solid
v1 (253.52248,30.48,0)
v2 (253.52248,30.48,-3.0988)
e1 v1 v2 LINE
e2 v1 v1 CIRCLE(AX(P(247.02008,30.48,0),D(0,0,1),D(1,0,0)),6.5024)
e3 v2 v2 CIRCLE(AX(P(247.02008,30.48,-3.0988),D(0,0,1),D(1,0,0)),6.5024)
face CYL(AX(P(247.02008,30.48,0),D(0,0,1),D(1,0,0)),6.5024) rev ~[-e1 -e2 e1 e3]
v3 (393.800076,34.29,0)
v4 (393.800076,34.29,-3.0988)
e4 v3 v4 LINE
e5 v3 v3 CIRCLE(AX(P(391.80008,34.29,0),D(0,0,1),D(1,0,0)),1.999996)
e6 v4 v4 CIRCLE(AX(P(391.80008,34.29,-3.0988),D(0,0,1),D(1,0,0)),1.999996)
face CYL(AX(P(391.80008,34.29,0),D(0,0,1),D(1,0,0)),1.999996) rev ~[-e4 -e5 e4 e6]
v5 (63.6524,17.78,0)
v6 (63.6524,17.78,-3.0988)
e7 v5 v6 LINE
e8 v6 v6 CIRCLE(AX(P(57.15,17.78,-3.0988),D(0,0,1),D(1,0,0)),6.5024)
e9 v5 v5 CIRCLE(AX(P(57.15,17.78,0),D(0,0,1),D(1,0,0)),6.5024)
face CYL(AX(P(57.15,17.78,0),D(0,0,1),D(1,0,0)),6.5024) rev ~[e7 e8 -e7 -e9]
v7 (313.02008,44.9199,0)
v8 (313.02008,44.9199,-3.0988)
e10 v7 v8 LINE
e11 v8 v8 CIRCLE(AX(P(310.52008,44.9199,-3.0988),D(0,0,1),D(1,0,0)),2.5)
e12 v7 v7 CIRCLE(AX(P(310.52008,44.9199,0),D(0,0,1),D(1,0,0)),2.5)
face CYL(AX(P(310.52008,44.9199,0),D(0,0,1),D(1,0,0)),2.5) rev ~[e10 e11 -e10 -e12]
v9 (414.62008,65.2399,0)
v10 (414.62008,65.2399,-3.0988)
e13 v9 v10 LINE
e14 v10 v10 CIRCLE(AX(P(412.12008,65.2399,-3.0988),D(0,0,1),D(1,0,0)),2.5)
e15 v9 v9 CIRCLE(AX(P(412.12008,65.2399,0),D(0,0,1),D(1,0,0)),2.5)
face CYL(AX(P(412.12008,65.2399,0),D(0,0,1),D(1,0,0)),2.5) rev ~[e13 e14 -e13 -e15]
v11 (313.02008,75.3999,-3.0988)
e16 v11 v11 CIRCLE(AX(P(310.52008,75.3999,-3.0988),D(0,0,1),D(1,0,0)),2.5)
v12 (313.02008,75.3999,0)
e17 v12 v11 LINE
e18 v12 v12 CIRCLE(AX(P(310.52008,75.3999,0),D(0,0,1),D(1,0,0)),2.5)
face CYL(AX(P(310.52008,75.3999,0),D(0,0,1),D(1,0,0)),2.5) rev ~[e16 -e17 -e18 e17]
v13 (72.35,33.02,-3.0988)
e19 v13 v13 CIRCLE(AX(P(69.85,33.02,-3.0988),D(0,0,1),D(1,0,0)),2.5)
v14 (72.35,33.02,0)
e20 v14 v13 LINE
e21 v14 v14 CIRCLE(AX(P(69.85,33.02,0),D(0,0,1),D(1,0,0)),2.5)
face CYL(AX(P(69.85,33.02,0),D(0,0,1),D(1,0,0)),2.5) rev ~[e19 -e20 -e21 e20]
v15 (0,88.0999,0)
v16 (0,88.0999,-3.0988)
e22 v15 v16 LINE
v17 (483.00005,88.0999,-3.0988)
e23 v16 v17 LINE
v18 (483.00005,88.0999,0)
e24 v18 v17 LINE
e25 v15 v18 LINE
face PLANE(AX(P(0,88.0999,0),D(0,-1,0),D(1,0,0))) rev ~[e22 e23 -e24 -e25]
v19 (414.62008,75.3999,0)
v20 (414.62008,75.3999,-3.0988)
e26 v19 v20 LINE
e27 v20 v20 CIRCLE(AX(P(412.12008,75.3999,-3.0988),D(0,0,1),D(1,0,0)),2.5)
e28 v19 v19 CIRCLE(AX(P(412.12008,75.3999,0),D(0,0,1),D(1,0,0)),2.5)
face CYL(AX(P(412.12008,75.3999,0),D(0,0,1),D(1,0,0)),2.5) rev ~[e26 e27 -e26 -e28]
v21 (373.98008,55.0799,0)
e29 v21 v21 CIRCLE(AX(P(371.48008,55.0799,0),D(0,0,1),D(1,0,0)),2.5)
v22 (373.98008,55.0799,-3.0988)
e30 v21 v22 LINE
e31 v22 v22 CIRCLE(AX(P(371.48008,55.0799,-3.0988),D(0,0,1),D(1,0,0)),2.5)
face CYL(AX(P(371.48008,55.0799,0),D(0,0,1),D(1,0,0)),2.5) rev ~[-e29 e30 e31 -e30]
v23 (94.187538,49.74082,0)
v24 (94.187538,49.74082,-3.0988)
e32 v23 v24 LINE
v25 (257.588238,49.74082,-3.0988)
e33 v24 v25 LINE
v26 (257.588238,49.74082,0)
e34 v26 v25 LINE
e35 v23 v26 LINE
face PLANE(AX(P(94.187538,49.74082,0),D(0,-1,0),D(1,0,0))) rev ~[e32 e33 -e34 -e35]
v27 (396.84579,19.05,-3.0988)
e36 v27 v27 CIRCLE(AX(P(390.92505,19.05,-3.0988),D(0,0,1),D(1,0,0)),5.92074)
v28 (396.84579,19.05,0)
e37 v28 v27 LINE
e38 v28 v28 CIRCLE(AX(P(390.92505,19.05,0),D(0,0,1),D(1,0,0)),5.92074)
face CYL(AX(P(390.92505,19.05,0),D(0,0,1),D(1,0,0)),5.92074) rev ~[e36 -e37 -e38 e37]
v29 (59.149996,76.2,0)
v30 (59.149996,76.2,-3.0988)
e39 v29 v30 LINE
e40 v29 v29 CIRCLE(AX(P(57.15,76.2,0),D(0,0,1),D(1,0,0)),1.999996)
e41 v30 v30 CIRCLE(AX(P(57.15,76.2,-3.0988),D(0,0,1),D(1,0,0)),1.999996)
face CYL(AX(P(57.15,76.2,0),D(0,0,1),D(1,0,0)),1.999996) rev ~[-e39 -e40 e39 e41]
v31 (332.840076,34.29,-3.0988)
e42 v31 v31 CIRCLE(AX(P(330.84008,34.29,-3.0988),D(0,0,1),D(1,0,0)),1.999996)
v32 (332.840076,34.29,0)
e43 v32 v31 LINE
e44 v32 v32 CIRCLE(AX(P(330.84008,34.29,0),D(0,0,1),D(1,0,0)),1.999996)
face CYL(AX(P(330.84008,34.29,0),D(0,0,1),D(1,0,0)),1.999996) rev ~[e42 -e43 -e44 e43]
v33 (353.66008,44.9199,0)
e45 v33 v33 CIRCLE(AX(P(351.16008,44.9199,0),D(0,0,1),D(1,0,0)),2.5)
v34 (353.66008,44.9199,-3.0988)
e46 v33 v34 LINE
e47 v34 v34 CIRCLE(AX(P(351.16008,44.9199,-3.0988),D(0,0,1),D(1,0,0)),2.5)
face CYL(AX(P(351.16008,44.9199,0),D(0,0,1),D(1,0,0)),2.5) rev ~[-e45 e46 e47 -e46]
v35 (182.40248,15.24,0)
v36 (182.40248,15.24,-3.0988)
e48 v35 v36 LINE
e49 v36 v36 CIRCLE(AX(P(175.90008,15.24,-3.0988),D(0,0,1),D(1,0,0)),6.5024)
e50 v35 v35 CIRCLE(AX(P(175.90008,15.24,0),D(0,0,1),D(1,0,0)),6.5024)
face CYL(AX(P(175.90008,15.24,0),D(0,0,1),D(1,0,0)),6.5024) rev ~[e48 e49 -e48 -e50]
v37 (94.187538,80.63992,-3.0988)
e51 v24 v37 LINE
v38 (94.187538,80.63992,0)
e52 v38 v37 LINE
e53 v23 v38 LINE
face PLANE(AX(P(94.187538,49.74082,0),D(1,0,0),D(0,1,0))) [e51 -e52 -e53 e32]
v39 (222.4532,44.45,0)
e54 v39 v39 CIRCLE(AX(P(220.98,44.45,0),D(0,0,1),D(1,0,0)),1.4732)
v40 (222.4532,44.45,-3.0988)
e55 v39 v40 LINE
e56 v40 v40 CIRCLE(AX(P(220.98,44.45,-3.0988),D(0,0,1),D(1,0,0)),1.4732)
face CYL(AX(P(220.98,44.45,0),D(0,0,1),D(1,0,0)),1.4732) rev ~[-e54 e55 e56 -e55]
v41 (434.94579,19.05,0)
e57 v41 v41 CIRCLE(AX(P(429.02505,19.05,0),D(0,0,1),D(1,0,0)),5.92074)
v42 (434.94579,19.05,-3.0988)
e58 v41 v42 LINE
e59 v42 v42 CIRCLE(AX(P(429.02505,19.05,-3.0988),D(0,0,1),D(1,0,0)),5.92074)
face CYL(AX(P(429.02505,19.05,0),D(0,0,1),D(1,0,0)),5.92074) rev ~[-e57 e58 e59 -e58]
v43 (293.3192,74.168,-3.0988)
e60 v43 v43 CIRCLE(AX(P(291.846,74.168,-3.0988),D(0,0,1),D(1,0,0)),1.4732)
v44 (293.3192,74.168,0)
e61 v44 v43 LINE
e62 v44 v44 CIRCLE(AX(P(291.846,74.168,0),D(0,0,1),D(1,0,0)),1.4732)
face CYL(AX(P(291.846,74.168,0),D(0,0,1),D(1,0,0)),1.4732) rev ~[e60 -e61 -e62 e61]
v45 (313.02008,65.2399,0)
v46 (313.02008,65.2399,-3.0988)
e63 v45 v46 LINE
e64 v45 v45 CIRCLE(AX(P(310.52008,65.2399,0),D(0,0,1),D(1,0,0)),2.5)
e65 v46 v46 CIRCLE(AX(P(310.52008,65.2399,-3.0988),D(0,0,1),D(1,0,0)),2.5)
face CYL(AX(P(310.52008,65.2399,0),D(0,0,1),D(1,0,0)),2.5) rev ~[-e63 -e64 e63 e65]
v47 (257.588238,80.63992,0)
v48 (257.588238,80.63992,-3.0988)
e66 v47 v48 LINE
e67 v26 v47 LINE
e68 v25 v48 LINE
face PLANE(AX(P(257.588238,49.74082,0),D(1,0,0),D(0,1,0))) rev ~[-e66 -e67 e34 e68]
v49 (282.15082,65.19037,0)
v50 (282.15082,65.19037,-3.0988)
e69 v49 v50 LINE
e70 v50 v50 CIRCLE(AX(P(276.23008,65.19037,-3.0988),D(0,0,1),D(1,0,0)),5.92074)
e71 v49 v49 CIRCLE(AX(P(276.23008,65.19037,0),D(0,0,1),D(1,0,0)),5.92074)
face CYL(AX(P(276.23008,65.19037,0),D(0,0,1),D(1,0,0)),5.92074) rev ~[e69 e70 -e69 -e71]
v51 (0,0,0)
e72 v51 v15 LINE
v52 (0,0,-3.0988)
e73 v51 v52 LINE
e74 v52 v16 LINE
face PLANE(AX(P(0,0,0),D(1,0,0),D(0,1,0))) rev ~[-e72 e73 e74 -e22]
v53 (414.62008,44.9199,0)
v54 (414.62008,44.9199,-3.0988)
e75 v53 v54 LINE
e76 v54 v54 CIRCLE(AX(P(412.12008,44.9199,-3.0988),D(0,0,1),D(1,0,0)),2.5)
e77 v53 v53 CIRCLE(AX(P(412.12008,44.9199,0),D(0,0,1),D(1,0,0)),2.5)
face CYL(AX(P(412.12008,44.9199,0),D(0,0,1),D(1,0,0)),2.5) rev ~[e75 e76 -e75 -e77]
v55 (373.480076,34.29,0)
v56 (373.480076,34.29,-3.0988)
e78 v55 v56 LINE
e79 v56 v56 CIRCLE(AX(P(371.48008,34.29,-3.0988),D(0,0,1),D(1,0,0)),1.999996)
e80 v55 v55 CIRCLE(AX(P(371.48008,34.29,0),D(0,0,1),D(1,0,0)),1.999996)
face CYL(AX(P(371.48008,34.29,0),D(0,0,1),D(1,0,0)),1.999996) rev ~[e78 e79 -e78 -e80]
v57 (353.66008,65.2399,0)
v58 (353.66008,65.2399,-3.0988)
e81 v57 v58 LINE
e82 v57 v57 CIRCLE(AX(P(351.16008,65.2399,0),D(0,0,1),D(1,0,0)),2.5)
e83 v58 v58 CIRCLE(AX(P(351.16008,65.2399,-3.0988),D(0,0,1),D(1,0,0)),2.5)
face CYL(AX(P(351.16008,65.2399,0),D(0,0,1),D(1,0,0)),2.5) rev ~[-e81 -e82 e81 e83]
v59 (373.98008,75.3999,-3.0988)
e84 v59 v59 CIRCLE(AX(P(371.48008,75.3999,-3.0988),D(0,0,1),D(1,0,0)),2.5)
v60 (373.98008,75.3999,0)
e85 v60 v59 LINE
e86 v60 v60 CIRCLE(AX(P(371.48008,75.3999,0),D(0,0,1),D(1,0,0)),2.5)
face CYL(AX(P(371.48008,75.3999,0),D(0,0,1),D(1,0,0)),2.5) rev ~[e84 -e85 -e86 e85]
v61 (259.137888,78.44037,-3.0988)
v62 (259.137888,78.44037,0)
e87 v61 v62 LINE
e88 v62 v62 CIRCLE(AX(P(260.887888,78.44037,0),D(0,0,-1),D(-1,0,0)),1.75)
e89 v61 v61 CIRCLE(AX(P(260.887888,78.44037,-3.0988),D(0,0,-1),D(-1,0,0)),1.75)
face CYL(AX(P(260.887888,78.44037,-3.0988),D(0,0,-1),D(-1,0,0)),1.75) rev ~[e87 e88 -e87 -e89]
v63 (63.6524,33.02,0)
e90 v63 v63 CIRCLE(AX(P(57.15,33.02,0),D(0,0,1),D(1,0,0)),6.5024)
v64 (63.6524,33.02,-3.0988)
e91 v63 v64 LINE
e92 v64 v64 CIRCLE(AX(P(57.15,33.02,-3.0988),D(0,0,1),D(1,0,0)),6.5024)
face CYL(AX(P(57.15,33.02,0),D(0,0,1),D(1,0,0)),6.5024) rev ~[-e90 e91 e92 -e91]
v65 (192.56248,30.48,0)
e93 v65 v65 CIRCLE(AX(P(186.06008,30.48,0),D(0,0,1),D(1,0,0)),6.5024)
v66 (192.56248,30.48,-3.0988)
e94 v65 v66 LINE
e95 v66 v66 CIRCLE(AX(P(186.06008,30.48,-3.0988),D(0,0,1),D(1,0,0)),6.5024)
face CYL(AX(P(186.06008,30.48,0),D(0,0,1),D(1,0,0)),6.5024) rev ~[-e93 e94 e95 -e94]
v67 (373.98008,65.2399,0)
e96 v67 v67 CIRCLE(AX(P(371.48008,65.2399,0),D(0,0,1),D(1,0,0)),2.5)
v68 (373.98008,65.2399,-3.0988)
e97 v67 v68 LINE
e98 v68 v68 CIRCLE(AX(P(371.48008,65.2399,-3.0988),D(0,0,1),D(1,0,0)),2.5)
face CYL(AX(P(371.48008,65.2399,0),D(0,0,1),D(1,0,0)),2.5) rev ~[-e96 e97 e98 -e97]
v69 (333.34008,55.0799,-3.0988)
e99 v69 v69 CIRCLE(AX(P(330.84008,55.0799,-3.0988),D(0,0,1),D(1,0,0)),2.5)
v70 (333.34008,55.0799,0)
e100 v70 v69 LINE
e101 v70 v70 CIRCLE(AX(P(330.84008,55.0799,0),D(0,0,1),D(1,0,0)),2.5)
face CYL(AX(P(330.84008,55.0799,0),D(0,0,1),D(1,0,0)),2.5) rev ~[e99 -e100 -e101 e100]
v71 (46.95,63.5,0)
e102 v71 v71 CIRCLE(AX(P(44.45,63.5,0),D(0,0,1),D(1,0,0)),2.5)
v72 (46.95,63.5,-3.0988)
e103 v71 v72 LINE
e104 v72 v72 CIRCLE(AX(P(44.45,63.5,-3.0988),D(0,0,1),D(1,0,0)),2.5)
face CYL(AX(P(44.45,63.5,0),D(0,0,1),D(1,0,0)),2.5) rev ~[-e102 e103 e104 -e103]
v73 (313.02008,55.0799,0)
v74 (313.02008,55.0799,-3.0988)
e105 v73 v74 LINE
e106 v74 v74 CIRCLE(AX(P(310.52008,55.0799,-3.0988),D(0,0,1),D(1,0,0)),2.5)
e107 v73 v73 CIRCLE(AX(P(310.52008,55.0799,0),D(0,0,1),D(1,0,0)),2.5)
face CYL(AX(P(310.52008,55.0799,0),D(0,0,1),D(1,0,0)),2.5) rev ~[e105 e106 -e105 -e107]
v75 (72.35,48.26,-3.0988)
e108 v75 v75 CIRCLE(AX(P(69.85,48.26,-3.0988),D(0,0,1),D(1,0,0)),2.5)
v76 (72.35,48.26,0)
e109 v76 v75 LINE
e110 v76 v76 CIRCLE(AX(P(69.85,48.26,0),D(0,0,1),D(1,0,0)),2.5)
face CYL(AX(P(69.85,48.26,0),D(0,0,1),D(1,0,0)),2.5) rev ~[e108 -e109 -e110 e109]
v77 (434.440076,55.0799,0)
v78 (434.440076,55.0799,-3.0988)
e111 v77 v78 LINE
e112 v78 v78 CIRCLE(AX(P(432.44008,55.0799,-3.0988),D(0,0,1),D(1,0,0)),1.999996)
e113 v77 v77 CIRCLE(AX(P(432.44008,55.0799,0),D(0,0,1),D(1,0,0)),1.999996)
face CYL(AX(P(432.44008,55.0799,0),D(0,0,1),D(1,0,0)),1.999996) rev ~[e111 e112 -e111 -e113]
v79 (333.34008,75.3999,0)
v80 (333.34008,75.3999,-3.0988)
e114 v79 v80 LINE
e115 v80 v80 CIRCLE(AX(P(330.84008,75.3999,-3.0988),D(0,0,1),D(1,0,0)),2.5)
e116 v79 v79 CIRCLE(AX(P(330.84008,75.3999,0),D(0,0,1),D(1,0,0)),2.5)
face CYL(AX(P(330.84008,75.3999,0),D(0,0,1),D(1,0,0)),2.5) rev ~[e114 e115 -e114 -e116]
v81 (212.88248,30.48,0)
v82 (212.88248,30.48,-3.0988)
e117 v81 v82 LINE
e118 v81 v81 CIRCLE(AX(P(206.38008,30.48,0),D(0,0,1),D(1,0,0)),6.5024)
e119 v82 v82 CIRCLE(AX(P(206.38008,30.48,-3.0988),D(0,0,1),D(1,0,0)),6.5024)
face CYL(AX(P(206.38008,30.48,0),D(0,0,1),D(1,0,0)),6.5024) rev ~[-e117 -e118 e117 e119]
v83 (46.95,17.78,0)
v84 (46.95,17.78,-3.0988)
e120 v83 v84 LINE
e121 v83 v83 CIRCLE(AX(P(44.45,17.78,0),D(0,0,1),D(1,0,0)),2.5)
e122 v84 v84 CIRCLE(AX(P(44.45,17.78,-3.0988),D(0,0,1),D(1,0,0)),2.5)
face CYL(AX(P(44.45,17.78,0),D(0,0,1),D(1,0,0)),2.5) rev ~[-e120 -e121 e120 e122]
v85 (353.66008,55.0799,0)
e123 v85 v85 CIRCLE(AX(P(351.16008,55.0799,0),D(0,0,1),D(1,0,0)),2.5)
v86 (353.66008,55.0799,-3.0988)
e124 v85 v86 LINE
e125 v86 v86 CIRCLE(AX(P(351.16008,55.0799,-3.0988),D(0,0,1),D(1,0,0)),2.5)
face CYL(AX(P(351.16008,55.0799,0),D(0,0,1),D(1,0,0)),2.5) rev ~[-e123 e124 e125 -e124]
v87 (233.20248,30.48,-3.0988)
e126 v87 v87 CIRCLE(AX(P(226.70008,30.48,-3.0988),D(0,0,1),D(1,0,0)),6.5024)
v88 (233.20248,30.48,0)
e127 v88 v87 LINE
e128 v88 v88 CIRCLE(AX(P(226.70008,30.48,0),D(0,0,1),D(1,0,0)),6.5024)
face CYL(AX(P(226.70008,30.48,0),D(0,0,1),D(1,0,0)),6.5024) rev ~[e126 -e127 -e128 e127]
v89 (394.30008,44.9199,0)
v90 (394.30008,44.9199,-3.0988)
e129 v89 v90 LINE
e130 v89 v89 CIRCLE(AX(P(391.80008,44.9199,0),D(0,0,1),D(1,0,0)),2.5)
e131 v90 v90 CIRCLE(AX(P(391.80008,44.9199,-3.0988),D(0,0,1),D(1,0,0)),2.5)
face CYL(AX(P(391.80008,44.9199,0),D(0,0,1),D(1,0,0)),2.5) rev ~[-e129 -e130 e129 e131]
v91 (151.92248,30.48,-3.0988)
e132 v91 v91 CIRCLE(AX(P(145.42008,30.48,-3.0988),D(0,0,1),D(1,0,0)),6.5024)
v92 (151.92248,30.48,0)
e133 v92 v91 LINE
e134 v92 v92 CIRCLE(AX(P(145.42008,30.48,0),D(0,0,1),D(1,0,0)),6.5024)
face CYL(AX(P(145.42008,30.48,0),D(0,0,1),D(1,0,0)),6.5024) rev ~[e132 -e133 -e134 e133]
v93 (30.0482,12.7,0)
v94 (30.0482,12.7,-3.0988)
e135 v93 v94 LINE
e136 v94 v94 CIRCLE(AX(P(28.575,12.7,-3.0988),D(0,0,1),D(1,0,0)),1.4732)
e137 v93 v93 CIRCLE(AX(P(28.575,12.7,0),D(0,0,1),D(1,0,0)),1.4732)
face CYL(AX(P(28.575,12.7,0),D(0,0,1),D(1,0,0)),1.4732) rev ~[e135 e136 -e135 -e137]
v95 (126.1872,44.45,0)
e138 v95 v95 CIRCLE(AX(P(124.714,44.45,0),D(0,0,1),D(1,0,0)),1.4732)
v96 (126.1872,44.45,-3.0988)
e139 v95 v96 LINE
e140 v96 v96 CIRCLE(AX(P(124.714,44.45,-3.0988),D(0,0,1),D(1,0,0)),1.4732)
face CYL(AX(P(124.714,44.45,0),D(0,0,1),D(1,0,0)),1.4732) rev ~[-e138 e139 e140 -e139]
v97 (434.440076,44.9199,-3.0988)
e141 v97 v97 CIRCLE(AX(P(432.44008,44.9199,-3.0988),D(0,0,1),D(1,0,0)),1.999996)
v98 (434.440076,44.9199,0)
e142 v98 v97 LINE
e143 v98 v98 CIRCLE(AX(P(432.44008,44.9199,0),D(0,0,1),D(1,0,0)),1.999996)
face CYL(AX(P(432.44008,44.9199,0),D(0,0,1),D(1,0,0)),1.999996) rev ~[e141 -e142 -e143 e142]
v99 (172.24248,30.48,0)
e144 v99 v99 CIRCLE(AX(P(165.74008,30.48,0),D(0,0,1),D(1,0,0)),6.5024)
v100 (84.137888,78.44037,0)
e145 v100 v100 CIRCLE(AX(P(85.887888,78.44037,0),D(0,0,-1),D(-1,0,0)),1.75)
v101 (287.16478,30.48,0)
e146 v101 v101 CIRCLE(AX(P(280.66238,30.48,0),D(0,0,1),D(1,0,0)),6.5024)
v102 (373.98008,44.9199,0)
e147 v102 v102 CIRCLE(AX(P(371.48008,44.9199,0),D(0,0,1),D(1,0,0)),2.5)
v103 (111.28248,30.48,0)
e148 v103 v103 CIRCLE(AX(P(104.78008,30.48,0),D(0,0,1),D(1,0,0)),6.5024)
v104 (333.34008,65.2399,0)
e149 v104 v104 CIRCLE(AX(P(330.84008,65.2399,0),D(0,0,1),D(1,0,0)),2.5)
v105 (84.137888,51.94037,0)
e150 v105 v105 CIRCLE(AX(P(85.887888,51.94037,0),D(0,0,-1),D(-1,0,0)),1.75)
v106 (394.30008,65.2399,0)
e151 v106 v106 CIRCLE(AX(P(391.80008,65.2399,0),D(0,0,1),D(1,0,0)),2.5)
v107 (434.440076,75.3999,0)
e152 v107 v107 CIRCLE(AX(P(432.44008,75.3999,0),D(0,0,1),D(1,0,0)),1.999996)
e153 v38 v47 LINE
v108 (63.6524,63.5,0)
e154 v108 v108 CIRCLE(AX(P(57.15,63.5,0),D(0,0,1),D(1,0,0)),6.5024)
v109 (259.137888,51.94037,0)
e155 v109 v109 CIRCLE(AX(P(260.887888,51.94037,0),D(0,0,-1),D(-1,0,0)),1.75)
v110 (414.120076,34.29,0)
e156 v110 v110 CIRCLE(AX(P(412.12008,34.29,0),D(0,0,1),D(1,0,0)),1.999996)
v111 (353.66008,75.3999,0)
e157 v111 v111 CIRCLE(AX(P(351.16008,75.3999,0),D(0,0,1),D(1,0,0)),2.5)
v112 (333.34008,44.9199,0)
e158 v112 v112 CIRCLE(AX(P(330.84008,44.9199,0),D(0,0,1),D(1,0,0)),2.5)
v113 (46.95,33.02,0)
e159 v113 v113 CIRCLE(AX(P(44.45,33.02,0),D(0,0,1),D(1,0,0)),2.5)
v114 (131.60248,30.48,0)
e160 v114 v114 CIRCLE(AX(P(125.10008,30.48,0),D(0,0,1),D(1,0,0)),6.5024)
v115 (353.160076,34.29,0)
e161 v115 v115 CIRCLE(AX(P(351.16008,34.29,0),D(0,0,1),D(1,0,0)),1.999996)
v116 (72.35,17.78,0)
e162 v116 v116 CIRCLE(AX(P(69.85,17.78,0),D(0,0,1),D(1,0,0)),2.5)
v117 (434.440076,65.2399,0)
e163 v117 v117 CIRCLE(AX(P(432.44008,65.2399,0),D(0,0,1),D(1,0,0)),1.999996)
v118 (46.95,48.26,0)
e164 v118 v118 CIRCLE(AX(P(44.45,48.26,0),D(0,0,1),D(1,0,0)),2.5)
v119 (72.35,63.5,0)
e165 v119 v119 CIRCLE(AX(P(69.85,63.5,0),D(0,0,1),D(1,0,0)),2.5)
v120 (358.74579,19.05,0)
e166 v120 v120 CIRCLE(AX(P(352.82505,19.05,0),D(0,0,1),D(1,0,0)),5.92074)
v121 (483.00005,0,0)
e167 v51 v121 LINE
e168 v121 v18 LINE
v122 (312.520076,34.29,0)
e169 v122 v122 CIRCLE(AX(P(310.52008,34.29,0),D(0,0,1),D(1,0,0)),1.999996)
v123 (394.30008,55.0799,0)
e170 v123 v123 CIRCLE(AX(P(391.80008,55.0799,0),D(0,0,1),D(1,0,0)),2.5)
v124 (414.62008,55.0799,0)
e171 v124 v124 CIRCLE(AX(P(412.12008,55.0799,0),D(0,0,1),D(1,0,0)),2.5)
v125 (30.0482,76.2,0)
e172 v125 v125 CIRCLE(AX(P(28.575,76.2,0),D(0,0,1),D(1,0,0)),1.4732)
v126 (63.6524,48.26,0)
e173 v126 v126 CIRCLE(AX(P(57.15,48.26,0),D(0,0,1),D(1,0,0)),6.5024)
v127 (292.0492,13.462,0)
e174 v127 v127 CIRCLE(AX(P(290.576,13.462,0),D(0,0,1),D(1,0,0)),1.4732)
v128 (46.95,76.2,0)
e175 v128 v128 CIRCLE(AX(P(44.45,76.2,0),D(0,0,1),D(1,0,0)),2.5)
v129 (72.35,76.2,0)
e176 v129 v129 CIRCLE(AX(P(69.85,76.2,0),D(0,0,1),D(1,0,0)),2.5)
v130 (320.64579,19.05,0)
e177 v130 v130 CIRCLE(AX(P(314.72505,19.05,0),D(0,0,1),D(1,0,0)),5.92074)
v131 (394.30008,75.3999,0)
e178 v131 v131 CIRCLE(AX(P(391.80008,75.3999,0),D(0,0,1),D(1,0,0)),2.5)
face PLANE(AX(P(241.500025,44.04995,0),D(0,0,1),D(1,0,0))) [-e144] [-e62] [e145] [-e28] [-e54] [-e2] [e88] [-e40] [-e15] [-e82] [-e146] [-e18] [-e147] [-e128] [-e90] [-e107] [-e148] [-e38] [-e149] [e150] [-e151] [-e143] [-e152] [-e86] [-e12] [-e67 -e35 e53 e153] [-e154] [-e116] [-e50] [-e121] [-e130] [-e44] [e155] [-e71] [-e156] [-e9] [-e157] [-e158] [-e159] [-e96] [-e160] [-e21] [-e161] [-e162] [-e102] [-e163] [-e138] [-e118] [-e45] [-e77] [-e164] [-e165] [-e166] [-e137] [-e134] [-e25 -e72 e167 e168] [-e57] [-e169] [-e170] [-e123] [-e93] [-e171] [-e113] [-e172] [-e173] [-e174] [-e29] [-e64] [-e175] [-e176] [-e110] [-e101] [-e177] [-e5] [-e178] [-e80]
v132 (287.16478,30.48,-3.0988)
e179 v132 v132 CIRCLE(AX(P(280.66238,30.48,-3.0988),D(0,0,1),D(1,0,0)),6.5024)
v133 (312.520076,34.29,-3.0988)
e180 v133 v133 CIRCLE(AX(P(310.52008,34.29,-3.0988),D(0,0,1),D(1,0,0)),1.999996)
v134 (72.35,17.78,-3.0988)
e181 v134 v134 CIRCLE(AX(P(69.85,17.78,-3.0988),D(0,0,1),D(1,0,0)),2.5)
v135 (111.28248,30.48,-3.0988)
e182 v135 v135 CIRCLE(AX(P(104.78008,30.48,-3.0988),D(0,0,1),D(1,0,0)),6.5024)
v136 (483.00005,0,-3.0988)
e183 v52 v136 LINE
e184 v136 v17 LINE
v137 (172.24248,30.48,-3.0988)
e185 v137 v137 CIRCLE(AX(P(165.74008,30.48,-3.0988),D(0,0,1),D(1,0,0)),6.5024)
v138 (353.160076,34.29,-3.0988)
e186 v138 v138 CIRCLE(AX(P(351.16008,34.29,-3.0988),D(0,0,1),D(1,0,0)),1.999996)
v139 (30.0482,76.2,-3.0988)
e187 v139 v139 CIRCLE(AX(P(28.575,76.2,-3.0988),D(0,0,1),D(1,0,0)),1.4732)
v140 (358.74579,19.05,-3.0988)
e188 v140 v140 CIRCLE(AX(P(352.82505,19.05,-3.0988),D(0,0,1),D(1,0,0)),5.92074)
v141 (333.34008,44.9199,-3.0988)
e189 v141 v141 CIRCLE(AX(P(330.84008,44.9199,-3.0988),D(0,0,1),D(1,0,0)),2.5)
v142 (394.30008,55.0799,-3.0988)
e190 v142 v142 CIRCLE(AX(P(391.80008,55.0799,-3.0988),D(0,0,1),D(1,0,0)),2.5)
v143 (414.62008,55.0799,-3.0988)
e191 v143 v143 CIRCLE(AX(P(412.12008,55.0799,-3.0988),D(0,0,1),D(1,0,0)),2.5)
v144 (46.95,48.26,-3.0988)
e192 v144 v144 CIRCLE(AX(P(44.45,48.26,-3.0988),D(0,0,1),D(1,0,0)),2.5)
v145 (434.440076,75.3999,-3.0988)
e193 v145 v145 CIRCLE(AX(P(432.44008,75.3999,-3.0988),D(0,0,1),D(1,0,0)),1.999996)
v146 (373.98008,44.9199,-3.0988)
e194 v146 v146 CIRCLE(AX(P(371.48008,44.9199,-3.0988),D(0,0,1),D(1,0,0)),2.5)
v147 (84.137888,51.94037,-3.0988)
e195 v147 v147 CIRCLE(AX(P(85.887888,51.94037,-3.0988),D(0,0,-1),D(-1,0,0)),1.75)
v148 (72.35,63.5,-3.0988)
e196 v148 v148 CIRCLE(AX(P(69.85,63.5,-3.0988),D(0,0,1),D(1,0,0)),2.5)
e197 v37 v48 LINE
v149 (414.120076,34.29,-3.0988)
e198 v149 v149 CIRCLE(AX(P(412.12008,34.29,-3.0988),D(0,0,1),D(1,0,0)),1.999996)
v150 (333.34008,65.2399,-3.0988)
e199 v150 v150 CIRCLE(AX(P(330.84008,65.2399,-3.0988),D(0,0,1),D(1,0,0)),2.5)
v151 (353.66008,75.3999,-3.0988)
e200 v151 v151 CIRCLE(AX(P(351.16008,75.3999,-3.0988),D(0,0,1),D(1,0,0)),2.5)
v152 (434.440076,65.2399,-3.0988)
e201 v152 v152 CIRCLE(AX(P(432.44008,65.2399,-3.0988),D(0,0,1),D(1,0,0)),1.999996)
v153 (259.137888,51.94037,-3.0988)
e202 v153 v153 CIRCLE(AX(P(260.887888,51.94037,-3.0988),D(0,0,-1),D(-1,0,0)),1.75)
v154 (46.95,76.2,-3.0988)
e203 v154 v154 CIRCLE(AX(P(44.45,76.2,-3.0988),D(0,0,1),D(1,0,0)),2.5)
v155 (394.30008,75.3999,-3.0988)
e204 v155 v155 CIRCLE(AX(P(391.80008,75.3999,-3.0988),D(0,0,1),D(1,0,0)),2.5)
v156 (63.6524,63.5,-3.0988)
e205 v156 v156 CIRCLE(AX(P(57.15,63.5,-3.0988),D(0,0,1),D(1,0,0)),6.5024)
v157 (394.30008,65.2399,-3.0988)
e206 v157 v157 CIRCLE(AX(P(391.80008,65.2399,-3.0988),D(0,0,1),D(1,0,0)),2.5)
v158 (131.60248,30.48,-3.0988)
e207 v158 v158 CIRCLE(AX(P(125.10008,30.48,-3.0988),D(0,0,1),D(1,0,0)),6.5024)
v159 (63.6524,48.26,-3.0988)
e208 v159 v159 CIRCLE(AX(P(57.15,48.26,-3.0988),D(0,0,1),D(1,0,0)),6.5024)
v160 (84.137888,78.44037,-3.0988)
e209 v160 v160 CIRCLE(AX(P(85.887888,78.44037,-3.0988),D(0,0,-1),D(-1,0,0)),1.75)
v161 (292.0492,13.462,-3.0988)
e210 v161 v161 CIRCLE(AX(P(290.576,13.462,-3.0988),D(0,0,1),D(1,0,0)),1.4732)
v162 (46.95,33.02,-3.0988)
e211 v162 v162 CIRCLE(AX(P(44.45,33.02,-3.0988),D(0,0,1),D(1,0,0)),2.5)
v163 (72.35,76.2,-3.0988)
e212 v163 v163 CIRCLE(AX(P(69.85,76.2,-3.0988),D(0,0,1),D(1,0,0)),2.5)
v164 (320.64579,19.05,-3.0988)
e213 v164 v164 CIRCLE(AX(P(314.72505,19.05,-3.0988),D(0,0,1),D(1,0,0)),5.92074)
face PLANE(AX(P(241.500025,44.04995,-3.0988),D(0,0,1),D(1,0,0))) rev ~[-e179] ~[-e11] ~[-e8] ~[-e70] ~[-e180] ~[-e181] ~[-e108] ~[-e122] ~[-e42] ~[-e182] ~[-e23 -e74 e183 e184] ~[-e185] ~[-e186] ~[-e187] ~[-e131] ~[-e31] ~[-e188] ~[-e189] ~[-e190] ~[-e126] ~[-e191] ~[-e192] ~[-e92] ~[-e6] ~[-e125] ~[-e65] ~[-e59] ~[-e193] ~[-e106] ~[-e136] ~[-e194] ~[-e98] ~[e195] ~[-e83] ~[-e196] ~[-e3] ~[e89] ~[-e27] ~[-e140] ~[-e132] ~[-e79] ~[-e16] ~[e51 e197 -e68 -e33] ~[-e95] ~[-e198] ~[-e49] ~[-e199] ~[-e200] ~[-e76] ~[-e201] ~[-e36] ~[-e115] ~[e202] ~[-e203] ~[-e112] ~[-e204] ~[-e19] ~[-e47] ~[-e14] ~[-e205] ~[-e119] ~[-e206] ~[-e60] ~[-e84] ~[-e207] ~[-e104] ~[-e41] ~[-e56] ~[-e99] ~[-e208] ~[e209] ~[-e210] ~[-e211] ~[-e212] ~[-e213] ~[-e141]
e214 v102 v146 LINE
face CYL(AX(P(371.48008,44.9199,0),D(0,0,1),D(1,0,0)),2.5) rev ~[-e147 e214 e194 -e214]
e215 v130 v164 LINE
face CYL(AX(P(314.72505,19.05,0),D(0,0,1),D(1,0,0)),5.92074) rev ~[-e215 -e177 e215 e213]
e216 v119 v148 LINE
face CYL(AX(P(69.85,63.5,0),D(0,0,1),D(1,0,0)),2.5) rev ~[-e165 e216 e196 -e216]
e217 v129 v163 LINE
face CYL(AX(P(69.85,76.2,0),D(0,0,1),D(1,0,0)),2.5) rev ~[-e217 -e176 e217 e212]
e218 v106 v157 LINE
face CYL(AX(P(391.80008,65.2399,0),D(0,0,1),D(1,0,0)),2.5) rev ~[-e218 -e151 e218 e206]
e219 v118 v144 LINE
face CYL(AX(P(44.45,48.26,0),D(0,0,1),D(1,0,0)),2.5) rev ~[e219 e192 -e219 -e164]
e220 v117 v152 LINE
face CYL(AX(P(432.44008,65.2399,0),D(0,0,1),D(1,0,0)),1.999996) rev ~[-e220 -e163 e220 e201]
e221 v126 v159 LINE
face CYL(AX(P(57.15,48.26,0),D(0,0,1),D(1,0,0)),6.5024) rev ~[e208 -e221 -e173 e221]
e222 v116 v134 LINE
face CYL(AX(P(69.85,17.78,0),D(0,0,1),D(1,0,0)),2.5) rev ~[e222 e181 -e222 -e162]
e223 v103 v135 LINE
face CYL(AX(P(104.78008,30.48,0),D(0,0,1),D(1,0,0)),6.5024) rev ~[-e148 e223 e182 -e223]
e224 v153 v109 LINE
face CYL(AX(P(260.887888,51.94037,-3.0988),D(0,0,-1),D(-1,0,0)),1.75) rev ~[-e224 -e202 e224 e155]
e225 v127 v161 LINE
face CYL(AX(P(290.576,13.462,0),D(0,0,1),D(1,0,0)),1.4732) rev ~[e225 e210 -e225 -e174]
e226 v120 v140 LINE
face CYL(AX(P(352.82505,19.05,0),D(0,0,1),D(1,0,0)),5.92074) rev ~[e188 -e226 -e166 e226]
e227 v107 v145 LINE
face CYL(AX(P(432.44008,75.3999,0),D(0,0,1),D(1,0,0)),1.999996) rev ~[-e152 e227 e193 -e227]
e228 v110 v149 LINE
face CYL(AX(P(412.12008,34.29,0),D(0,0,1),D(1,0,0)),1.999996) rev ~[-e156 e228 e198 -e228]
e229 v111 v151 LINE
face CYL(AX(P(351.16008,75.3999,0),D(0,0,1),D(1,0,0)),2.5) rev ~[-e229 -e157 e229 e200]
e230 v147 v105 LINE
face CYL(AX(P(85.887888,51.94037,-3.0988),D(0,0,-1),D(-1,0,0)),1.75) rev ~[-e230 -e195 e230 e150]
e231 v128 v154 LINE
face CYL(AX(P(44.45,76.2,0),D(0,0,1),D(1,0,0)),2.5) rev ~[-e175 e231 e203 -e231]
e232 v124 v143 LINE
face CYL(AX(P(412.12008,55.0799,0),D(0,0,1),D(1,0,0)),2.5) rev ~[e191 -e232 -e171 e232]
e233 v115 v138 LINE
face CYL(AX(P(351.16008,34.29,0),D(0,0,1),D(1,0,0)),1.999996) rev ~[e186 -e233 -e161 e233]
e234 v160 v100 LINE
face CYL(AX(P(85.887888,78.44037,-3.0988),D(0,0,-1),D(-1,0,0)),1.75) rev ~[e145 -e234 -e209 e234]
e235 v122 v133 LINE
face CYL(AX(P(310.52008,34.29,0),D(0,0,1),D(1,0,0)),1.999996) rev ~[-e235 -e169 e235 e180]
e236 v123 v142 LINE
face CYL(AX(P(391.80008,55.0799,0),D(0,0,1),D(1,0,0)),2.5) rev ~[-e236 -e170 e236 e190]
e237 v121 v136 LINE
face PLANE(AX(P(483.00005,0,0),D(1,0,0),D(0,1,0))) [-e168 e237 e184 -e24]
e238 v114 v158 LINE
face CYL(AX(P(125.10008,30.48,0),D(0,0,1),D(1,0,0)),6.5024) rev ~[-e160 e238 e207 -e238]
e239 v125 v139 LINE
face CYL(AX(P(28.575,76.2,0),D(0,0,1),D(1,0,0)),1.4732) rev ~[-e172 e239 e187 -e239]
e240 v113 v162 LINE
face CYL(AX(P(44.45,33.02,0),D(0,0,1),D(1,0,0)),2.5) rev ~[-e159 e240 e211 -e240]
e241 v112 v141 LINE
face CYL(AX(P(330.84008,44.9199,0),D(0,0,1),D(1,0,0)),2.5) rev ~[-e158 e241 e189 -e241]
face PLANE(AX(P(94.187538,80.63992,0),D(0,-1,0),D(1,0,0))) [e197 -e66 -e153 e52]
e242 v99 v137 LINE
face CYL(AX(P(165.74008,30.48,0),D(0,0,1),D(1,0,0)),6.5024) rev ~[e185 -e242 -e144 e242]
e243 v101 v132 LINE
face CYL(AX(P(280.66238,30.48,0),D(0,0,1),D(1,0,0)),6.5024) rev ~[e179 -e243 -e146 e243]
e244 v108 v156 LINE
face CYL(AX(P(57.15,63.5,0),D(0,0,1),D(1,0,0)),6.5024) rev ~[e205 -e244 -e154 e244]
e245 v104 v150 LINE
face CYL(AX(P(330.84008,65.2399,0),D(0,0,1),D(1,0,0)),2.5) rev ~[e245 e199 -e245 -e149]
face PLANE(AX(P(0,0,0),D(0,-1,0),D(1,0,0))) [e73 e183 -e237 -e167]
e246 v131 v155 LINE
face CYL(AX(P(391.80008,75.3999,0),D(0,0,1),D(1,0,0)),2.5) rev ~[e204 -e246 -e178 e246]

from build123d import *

# Parameters (mm, degrees)
SKETCH2_W            = 483.00005
SKETCH2_H            = 88.0999
BOSS_EXTRUDE2_DEPTH  = 3.0988
SKETCH3_W            = 163.4007
SKETCH3_H            = 30.8991
CUT_EXTRUDE1_DEPTH   = 3.0988
SKETCH5_R            = 2.5
CUT_EXTRUDE2_DEPTH   = 9.1948
LPATTERN1_COUNT      = 6
LPATTERN1_PITCH      = 20.32
LPATTERN1_COUNT_DIR2 = 4
LPATTERN1_PITCH_DIR2 = 10.16
SKETCH6_R            = 6.5024
CUT_EXTRUDE3_DEPTH   = 9.1948
LPATTERN2_COUNT      = 8
LPATTERN2_PITCH      = 20.32
SKETCH7_R            = 6.5024
CUT_EXTRUDE4_DEPTH   = 491.978862316
SKETCH8_R            = 5.92074
CUT_EXTRUDE5_DEPTH   = 491.978862316
SKETCH9_R            = 1.999996
CUT_EXTRUDE6_DEPTH   = 491.978862316
LPATTERN3_COUNT      = 6
LPATTERN3_PITCH      = 20.32
SKETCH10_R           = 2.5
CUT_EXTRUDE7_DEPTH   = 491.978862316
LPATTERN4_COUNT      = 2
LPATTERN4_PITCH      = 25.4
LPATTERN4_COUNT_DIR2 = 4
LPATTERN4_PITCH_DIR2 = 15.24
SKETCH11_R           = 1.999996
CUT_EXTRUDE8_DEPTH   = 491.978862316
LPATTERN5_COUNT      = 4
LPATTERN5_PITCH      = 10.16
SKETCH12_R           = 1.75
CUT_EXTRUDE9_DEPTH   = 491.978862316
LPATTERN6_COUNT      = 2
LPATTERN6_PITCH      = 12.7
LPATTERN6_COUNT_DIR2 = 2
LPATTERN6_PITCH_DIR2 = 25.4
SKETCH13_R           = 1.999996
CUT_EXTRUDE10_DEPTH  = 491.978862316
SKETCH15_R           = 5.92074
CUT_EXTRUDE11_DEPTH  = 491.978862316
LPATTERN7_COUNT      = 4
LPATTERN7_PITCH      = 38.1
SKETCH16_R           = 1.4732
CUT_EXTRUDE12_DEPTH  = 491.978862316
SKETCH17_R           = 1.4732
CUT_EXTRUDE13_DEPTH  = 491.978862316
SKETCH18_R           = 1.4732
CUT_EXTRUDE14_DEPTH  = 491.978862316


with BuildPart() as part:
    # Sketch2 → Boss-Extrude2 (new body)
    with BuildSketch(Plane.XY):
        with Locations((241.500025, 44.04995)):
            Rectangle(SKETCH2_W, SKETCH2_H)
    extrude(amount=-BOSS_EXTRUDE2_DEPTH)

    # Sketch3 → Cut-Extrude1 (cut)
    with BuildSketch(Plane.XY):
        with Locations((175.887888, 65.19037)):
            Rectangle(SKETCH3_W, SKETCH3_H)
    extrude(amount=-CUT_EXTRUDE1_DEPTH, mode=Mode.SUBTRACT)

    # Sketch5 → Cut-Extrude2 (cut)
    with BuildSketch(Plane.XY):
        with Locations((310.52008, 75.3999)):
            Circle(SKETCH5_R)
    cut_extrude2 = extrude(amount=-CUT_EXTRUDE2_DEPTH, mode=Mode.SUBTRACT)

    # LPattern1: Cut-Extrude2 6 × 4
    with Locations(*[(i * LPATTERN1_PITCH, -j * LPATTERN1_PITCH_DIR2, 0) for i in range(LPATTERN1_COUNT) for j in range(LPATTERN1_COUNT_DIR2) if (i, j) != (0, 0)]):
        add(cut_extrude2, mode=Mode.SUBTRACT)

    # Sketch6 → Cut-Extrude3 (cut)
    with BuildSketch(Plane.XY):
        with Locations((104.78008, 30.48)):
            Circle(SKETCH6_R)
    cut_extrude3 = extrude(amount=-CUT_EXTRUDE3_DEPTH, mode=Mode.SUBTRACT)

    # LPattern2: Cut-Extrude3 ×8
    with Locations(*[(i * LPATTERN2_PITCH, 0, 0) for i in range(1, LPATTERN2_COUNT)]):
        add(cut_extrude3, mode=Mode.SUBTRACT)

    # Sketch7 → Cut-Extrude4 (cut, through all)
    with BuildSketch(Plane.XY):
        with Locations((57.15, 48.26)):
            Circle(SKETCH7_R)
        with Locations((57.15, 33.02)):
            Circle(SKETCH7_R)
        with Locations((57.15, 17.78)):
            Circle(SKETCH7_R)
        with Locations((57.15, 63.5)):
            Circle(SKETCH7_R)
        with Locations((175.90008, 15.24)):
            Circle(SKETCH7_R)
        with Locations((280.66238, 30.48)):
            Circle(SKETCH7_R)
    extrude(amount=-CUT_EXTRUDE4_DEPTH, mode=Mode.SUBTRACT)

    # Sketch8 → Cut-Extrude5 (cut, through all)
    with BuildSketch(Plane.XY):
        with Locations((314.72505, 19.05)):
            Circle(SKETCH8_R)
    cut_extrude5 = extrude(amount=-CUT_EXTRUDE5_DEPTH, mode=Mode.SUBTRACT)

    # Sketch9 → Cut-Extrude6 (cut, through all)
    with BuildSketch(Plane.XY):
        with Locations((310.52008, 34.29)):
            Circle(SKETCH9_R)
    cut_extrude6 = extrude(amount=-CUT_EXTRUDE6_DEPTH, mode=Mode.SUBTRACT)

    # LPattern3: Cut-Extrude6 ×6
    with Locations(*[(i * LPATTERN3_PITCH, 0, 0) for i in range(1, LPATTERN3_COUNT)]):
        add(cut_extrude6, mode=Mode.SUBTRACT)

    # Sketch10 → Cut-Extrude7 (cut, through all)
    with BuildSketch(Plane.XY):
        with Locations((44.45, 63.5)):
            Circle(SKETCH10_R)
    cut_extrude7 = extrude(amount=-CUT_EXTRUDE7_DEPTH, mode=Mode.SUBTRACT)

    # LPattern4: Cut-Extrude7 2 × 4
    with Locations(*[(i * LPATTERN4_PITCH, -j * LPATTERN4_PITCH_DIR2, 0) for i in range(LPATTERN4_COUNT) for j in range(LPATTERN4_COUNT_DIR2) if (i, j) != (0, 0)]):
        add(cut_extrude7, mode=Mode.SUBTRACT)

    # Sketch11 → Cut-Extrude8 (cut, through all)
    with BuildSketch(Plane.XY):
        with Locations((432.44008, 75.3999)):
            Circle(SKETCH11_R)
    cut_extrude8 = extrude(amount=-CUT_EXTRUDE8_DEPTH, mode=Mode.SUBTRACT)

    # LPattern5: Cut-Extrude8 ×4
    with Locations(*[(0, -i * LPATTERN5_PITCH, 0) for i in range(1, LPATTERN5_COUNT)]):
        add(cut_extrude8, mode=Mode.SUBTRACT)

    # Sketch12 → Cut-Extrude9 (cut, through all)
    with BuildSketch(Plane(origin=(0, 0, -3.0988), x_dir=(-1, 0, 0), z_dir=(0, 0, -1))):
        with Locations((-260.887888, 78.44037)):
            Circle(SKETCH12_R)
        with Locations((-260.887888, 51.94037)):
            Circle(SKETCH12_R)
        with Locations((-85.887888, 78.44037)):
            Circle(SKETCH12_R)
        with Locations((-85.887888, 51.94037)):
            Circle(SKETCH12_R)
    extrude(amount=-CUT_EXTRUDE9_DEPTH, mode=Mode.SUBTRACT)

    # LPattern6: Cut-Extrude7 2 × 2
    with Locations(*[(j * LPATTERN6_PITCH_DIR2, i * LPATTERN6_PITCH, 0) for i in range(LPATTERN6_COUNT) for j in range(LPATTERN6_COUNT_DIR2) if (i, j) != (0, 0)]):
        add(cut_extrude7, mode=Mode.SUBTRACT)

    # Sketch13 → Cut-Extrude10 (cut, through all)
    with BuildSketch(Plane.XY):
        with Locations((57.15, 76.2)):
            Circle(SKETCH13_R)
    extrude(amount=-CUT_EXTRUDE10_DEPTH, mode=Mode.SUBTRACT)

    # Sketch15 → Cut-Extrude11 (cut, through all)
    with BuildSketch(Plane.XY):
        with Locations((276.23008, 65.19037)):
            Circle(SKETCH15_R)
    extrude(amount=-CUT_EXTRUDE11_DEPTH, mode=Mode.SUBTRACT)

    # LPattern7: Cut-Extrude5 ×4
    with Locations(*[(i * LPATTERN7_PITCH, 0, 0) for i in range(1, LPATTERN7_COUNT)]):
        add(cut_extrude5, mode=Mode.SUBTRACT)

    # Sketch16 → Cut-Extrude12 (cut, through all)
    with BuildSketch(Plane.XY):
        with Locations((28.575, 12.7)):
            Circle(SKETCH16_R)
        with Locations((28.575, 76.2)):
            Circle(SKETCH16_R)
    extrude(amount=-CUT_EXTRUDE12_DEPTH, mode=Mode.SUBTRACT)

    # Sketch17 → Cut-Extrude13 (cut, through all)
    with BuildSketch(Plane.XY):
        with Locations((291.846, 74.168)):
            Circle(SKETCH17_R)
        with Locations((290.576, 13.462)):
            Circle(SKETCH17_R)
    extrude(amount=-CUT_EXTRUDE13_DEPTH, mode=Mode.SUBTRACT)

    # Sketch18 → Cut-Extrude14 (cut, through all)
    with BuildSketch(Plane.XY):
        with Locations((124.714, 44.45)):
            Circle(SKETCH18_R)
        with Locations((220.98, 44.45)):
            Circle(SKETCH18_R)
    extrude(amount=-CUT_EXTRUDE14_DEPTH, mode=Mode.SUBTRACT)


solid = part.part
